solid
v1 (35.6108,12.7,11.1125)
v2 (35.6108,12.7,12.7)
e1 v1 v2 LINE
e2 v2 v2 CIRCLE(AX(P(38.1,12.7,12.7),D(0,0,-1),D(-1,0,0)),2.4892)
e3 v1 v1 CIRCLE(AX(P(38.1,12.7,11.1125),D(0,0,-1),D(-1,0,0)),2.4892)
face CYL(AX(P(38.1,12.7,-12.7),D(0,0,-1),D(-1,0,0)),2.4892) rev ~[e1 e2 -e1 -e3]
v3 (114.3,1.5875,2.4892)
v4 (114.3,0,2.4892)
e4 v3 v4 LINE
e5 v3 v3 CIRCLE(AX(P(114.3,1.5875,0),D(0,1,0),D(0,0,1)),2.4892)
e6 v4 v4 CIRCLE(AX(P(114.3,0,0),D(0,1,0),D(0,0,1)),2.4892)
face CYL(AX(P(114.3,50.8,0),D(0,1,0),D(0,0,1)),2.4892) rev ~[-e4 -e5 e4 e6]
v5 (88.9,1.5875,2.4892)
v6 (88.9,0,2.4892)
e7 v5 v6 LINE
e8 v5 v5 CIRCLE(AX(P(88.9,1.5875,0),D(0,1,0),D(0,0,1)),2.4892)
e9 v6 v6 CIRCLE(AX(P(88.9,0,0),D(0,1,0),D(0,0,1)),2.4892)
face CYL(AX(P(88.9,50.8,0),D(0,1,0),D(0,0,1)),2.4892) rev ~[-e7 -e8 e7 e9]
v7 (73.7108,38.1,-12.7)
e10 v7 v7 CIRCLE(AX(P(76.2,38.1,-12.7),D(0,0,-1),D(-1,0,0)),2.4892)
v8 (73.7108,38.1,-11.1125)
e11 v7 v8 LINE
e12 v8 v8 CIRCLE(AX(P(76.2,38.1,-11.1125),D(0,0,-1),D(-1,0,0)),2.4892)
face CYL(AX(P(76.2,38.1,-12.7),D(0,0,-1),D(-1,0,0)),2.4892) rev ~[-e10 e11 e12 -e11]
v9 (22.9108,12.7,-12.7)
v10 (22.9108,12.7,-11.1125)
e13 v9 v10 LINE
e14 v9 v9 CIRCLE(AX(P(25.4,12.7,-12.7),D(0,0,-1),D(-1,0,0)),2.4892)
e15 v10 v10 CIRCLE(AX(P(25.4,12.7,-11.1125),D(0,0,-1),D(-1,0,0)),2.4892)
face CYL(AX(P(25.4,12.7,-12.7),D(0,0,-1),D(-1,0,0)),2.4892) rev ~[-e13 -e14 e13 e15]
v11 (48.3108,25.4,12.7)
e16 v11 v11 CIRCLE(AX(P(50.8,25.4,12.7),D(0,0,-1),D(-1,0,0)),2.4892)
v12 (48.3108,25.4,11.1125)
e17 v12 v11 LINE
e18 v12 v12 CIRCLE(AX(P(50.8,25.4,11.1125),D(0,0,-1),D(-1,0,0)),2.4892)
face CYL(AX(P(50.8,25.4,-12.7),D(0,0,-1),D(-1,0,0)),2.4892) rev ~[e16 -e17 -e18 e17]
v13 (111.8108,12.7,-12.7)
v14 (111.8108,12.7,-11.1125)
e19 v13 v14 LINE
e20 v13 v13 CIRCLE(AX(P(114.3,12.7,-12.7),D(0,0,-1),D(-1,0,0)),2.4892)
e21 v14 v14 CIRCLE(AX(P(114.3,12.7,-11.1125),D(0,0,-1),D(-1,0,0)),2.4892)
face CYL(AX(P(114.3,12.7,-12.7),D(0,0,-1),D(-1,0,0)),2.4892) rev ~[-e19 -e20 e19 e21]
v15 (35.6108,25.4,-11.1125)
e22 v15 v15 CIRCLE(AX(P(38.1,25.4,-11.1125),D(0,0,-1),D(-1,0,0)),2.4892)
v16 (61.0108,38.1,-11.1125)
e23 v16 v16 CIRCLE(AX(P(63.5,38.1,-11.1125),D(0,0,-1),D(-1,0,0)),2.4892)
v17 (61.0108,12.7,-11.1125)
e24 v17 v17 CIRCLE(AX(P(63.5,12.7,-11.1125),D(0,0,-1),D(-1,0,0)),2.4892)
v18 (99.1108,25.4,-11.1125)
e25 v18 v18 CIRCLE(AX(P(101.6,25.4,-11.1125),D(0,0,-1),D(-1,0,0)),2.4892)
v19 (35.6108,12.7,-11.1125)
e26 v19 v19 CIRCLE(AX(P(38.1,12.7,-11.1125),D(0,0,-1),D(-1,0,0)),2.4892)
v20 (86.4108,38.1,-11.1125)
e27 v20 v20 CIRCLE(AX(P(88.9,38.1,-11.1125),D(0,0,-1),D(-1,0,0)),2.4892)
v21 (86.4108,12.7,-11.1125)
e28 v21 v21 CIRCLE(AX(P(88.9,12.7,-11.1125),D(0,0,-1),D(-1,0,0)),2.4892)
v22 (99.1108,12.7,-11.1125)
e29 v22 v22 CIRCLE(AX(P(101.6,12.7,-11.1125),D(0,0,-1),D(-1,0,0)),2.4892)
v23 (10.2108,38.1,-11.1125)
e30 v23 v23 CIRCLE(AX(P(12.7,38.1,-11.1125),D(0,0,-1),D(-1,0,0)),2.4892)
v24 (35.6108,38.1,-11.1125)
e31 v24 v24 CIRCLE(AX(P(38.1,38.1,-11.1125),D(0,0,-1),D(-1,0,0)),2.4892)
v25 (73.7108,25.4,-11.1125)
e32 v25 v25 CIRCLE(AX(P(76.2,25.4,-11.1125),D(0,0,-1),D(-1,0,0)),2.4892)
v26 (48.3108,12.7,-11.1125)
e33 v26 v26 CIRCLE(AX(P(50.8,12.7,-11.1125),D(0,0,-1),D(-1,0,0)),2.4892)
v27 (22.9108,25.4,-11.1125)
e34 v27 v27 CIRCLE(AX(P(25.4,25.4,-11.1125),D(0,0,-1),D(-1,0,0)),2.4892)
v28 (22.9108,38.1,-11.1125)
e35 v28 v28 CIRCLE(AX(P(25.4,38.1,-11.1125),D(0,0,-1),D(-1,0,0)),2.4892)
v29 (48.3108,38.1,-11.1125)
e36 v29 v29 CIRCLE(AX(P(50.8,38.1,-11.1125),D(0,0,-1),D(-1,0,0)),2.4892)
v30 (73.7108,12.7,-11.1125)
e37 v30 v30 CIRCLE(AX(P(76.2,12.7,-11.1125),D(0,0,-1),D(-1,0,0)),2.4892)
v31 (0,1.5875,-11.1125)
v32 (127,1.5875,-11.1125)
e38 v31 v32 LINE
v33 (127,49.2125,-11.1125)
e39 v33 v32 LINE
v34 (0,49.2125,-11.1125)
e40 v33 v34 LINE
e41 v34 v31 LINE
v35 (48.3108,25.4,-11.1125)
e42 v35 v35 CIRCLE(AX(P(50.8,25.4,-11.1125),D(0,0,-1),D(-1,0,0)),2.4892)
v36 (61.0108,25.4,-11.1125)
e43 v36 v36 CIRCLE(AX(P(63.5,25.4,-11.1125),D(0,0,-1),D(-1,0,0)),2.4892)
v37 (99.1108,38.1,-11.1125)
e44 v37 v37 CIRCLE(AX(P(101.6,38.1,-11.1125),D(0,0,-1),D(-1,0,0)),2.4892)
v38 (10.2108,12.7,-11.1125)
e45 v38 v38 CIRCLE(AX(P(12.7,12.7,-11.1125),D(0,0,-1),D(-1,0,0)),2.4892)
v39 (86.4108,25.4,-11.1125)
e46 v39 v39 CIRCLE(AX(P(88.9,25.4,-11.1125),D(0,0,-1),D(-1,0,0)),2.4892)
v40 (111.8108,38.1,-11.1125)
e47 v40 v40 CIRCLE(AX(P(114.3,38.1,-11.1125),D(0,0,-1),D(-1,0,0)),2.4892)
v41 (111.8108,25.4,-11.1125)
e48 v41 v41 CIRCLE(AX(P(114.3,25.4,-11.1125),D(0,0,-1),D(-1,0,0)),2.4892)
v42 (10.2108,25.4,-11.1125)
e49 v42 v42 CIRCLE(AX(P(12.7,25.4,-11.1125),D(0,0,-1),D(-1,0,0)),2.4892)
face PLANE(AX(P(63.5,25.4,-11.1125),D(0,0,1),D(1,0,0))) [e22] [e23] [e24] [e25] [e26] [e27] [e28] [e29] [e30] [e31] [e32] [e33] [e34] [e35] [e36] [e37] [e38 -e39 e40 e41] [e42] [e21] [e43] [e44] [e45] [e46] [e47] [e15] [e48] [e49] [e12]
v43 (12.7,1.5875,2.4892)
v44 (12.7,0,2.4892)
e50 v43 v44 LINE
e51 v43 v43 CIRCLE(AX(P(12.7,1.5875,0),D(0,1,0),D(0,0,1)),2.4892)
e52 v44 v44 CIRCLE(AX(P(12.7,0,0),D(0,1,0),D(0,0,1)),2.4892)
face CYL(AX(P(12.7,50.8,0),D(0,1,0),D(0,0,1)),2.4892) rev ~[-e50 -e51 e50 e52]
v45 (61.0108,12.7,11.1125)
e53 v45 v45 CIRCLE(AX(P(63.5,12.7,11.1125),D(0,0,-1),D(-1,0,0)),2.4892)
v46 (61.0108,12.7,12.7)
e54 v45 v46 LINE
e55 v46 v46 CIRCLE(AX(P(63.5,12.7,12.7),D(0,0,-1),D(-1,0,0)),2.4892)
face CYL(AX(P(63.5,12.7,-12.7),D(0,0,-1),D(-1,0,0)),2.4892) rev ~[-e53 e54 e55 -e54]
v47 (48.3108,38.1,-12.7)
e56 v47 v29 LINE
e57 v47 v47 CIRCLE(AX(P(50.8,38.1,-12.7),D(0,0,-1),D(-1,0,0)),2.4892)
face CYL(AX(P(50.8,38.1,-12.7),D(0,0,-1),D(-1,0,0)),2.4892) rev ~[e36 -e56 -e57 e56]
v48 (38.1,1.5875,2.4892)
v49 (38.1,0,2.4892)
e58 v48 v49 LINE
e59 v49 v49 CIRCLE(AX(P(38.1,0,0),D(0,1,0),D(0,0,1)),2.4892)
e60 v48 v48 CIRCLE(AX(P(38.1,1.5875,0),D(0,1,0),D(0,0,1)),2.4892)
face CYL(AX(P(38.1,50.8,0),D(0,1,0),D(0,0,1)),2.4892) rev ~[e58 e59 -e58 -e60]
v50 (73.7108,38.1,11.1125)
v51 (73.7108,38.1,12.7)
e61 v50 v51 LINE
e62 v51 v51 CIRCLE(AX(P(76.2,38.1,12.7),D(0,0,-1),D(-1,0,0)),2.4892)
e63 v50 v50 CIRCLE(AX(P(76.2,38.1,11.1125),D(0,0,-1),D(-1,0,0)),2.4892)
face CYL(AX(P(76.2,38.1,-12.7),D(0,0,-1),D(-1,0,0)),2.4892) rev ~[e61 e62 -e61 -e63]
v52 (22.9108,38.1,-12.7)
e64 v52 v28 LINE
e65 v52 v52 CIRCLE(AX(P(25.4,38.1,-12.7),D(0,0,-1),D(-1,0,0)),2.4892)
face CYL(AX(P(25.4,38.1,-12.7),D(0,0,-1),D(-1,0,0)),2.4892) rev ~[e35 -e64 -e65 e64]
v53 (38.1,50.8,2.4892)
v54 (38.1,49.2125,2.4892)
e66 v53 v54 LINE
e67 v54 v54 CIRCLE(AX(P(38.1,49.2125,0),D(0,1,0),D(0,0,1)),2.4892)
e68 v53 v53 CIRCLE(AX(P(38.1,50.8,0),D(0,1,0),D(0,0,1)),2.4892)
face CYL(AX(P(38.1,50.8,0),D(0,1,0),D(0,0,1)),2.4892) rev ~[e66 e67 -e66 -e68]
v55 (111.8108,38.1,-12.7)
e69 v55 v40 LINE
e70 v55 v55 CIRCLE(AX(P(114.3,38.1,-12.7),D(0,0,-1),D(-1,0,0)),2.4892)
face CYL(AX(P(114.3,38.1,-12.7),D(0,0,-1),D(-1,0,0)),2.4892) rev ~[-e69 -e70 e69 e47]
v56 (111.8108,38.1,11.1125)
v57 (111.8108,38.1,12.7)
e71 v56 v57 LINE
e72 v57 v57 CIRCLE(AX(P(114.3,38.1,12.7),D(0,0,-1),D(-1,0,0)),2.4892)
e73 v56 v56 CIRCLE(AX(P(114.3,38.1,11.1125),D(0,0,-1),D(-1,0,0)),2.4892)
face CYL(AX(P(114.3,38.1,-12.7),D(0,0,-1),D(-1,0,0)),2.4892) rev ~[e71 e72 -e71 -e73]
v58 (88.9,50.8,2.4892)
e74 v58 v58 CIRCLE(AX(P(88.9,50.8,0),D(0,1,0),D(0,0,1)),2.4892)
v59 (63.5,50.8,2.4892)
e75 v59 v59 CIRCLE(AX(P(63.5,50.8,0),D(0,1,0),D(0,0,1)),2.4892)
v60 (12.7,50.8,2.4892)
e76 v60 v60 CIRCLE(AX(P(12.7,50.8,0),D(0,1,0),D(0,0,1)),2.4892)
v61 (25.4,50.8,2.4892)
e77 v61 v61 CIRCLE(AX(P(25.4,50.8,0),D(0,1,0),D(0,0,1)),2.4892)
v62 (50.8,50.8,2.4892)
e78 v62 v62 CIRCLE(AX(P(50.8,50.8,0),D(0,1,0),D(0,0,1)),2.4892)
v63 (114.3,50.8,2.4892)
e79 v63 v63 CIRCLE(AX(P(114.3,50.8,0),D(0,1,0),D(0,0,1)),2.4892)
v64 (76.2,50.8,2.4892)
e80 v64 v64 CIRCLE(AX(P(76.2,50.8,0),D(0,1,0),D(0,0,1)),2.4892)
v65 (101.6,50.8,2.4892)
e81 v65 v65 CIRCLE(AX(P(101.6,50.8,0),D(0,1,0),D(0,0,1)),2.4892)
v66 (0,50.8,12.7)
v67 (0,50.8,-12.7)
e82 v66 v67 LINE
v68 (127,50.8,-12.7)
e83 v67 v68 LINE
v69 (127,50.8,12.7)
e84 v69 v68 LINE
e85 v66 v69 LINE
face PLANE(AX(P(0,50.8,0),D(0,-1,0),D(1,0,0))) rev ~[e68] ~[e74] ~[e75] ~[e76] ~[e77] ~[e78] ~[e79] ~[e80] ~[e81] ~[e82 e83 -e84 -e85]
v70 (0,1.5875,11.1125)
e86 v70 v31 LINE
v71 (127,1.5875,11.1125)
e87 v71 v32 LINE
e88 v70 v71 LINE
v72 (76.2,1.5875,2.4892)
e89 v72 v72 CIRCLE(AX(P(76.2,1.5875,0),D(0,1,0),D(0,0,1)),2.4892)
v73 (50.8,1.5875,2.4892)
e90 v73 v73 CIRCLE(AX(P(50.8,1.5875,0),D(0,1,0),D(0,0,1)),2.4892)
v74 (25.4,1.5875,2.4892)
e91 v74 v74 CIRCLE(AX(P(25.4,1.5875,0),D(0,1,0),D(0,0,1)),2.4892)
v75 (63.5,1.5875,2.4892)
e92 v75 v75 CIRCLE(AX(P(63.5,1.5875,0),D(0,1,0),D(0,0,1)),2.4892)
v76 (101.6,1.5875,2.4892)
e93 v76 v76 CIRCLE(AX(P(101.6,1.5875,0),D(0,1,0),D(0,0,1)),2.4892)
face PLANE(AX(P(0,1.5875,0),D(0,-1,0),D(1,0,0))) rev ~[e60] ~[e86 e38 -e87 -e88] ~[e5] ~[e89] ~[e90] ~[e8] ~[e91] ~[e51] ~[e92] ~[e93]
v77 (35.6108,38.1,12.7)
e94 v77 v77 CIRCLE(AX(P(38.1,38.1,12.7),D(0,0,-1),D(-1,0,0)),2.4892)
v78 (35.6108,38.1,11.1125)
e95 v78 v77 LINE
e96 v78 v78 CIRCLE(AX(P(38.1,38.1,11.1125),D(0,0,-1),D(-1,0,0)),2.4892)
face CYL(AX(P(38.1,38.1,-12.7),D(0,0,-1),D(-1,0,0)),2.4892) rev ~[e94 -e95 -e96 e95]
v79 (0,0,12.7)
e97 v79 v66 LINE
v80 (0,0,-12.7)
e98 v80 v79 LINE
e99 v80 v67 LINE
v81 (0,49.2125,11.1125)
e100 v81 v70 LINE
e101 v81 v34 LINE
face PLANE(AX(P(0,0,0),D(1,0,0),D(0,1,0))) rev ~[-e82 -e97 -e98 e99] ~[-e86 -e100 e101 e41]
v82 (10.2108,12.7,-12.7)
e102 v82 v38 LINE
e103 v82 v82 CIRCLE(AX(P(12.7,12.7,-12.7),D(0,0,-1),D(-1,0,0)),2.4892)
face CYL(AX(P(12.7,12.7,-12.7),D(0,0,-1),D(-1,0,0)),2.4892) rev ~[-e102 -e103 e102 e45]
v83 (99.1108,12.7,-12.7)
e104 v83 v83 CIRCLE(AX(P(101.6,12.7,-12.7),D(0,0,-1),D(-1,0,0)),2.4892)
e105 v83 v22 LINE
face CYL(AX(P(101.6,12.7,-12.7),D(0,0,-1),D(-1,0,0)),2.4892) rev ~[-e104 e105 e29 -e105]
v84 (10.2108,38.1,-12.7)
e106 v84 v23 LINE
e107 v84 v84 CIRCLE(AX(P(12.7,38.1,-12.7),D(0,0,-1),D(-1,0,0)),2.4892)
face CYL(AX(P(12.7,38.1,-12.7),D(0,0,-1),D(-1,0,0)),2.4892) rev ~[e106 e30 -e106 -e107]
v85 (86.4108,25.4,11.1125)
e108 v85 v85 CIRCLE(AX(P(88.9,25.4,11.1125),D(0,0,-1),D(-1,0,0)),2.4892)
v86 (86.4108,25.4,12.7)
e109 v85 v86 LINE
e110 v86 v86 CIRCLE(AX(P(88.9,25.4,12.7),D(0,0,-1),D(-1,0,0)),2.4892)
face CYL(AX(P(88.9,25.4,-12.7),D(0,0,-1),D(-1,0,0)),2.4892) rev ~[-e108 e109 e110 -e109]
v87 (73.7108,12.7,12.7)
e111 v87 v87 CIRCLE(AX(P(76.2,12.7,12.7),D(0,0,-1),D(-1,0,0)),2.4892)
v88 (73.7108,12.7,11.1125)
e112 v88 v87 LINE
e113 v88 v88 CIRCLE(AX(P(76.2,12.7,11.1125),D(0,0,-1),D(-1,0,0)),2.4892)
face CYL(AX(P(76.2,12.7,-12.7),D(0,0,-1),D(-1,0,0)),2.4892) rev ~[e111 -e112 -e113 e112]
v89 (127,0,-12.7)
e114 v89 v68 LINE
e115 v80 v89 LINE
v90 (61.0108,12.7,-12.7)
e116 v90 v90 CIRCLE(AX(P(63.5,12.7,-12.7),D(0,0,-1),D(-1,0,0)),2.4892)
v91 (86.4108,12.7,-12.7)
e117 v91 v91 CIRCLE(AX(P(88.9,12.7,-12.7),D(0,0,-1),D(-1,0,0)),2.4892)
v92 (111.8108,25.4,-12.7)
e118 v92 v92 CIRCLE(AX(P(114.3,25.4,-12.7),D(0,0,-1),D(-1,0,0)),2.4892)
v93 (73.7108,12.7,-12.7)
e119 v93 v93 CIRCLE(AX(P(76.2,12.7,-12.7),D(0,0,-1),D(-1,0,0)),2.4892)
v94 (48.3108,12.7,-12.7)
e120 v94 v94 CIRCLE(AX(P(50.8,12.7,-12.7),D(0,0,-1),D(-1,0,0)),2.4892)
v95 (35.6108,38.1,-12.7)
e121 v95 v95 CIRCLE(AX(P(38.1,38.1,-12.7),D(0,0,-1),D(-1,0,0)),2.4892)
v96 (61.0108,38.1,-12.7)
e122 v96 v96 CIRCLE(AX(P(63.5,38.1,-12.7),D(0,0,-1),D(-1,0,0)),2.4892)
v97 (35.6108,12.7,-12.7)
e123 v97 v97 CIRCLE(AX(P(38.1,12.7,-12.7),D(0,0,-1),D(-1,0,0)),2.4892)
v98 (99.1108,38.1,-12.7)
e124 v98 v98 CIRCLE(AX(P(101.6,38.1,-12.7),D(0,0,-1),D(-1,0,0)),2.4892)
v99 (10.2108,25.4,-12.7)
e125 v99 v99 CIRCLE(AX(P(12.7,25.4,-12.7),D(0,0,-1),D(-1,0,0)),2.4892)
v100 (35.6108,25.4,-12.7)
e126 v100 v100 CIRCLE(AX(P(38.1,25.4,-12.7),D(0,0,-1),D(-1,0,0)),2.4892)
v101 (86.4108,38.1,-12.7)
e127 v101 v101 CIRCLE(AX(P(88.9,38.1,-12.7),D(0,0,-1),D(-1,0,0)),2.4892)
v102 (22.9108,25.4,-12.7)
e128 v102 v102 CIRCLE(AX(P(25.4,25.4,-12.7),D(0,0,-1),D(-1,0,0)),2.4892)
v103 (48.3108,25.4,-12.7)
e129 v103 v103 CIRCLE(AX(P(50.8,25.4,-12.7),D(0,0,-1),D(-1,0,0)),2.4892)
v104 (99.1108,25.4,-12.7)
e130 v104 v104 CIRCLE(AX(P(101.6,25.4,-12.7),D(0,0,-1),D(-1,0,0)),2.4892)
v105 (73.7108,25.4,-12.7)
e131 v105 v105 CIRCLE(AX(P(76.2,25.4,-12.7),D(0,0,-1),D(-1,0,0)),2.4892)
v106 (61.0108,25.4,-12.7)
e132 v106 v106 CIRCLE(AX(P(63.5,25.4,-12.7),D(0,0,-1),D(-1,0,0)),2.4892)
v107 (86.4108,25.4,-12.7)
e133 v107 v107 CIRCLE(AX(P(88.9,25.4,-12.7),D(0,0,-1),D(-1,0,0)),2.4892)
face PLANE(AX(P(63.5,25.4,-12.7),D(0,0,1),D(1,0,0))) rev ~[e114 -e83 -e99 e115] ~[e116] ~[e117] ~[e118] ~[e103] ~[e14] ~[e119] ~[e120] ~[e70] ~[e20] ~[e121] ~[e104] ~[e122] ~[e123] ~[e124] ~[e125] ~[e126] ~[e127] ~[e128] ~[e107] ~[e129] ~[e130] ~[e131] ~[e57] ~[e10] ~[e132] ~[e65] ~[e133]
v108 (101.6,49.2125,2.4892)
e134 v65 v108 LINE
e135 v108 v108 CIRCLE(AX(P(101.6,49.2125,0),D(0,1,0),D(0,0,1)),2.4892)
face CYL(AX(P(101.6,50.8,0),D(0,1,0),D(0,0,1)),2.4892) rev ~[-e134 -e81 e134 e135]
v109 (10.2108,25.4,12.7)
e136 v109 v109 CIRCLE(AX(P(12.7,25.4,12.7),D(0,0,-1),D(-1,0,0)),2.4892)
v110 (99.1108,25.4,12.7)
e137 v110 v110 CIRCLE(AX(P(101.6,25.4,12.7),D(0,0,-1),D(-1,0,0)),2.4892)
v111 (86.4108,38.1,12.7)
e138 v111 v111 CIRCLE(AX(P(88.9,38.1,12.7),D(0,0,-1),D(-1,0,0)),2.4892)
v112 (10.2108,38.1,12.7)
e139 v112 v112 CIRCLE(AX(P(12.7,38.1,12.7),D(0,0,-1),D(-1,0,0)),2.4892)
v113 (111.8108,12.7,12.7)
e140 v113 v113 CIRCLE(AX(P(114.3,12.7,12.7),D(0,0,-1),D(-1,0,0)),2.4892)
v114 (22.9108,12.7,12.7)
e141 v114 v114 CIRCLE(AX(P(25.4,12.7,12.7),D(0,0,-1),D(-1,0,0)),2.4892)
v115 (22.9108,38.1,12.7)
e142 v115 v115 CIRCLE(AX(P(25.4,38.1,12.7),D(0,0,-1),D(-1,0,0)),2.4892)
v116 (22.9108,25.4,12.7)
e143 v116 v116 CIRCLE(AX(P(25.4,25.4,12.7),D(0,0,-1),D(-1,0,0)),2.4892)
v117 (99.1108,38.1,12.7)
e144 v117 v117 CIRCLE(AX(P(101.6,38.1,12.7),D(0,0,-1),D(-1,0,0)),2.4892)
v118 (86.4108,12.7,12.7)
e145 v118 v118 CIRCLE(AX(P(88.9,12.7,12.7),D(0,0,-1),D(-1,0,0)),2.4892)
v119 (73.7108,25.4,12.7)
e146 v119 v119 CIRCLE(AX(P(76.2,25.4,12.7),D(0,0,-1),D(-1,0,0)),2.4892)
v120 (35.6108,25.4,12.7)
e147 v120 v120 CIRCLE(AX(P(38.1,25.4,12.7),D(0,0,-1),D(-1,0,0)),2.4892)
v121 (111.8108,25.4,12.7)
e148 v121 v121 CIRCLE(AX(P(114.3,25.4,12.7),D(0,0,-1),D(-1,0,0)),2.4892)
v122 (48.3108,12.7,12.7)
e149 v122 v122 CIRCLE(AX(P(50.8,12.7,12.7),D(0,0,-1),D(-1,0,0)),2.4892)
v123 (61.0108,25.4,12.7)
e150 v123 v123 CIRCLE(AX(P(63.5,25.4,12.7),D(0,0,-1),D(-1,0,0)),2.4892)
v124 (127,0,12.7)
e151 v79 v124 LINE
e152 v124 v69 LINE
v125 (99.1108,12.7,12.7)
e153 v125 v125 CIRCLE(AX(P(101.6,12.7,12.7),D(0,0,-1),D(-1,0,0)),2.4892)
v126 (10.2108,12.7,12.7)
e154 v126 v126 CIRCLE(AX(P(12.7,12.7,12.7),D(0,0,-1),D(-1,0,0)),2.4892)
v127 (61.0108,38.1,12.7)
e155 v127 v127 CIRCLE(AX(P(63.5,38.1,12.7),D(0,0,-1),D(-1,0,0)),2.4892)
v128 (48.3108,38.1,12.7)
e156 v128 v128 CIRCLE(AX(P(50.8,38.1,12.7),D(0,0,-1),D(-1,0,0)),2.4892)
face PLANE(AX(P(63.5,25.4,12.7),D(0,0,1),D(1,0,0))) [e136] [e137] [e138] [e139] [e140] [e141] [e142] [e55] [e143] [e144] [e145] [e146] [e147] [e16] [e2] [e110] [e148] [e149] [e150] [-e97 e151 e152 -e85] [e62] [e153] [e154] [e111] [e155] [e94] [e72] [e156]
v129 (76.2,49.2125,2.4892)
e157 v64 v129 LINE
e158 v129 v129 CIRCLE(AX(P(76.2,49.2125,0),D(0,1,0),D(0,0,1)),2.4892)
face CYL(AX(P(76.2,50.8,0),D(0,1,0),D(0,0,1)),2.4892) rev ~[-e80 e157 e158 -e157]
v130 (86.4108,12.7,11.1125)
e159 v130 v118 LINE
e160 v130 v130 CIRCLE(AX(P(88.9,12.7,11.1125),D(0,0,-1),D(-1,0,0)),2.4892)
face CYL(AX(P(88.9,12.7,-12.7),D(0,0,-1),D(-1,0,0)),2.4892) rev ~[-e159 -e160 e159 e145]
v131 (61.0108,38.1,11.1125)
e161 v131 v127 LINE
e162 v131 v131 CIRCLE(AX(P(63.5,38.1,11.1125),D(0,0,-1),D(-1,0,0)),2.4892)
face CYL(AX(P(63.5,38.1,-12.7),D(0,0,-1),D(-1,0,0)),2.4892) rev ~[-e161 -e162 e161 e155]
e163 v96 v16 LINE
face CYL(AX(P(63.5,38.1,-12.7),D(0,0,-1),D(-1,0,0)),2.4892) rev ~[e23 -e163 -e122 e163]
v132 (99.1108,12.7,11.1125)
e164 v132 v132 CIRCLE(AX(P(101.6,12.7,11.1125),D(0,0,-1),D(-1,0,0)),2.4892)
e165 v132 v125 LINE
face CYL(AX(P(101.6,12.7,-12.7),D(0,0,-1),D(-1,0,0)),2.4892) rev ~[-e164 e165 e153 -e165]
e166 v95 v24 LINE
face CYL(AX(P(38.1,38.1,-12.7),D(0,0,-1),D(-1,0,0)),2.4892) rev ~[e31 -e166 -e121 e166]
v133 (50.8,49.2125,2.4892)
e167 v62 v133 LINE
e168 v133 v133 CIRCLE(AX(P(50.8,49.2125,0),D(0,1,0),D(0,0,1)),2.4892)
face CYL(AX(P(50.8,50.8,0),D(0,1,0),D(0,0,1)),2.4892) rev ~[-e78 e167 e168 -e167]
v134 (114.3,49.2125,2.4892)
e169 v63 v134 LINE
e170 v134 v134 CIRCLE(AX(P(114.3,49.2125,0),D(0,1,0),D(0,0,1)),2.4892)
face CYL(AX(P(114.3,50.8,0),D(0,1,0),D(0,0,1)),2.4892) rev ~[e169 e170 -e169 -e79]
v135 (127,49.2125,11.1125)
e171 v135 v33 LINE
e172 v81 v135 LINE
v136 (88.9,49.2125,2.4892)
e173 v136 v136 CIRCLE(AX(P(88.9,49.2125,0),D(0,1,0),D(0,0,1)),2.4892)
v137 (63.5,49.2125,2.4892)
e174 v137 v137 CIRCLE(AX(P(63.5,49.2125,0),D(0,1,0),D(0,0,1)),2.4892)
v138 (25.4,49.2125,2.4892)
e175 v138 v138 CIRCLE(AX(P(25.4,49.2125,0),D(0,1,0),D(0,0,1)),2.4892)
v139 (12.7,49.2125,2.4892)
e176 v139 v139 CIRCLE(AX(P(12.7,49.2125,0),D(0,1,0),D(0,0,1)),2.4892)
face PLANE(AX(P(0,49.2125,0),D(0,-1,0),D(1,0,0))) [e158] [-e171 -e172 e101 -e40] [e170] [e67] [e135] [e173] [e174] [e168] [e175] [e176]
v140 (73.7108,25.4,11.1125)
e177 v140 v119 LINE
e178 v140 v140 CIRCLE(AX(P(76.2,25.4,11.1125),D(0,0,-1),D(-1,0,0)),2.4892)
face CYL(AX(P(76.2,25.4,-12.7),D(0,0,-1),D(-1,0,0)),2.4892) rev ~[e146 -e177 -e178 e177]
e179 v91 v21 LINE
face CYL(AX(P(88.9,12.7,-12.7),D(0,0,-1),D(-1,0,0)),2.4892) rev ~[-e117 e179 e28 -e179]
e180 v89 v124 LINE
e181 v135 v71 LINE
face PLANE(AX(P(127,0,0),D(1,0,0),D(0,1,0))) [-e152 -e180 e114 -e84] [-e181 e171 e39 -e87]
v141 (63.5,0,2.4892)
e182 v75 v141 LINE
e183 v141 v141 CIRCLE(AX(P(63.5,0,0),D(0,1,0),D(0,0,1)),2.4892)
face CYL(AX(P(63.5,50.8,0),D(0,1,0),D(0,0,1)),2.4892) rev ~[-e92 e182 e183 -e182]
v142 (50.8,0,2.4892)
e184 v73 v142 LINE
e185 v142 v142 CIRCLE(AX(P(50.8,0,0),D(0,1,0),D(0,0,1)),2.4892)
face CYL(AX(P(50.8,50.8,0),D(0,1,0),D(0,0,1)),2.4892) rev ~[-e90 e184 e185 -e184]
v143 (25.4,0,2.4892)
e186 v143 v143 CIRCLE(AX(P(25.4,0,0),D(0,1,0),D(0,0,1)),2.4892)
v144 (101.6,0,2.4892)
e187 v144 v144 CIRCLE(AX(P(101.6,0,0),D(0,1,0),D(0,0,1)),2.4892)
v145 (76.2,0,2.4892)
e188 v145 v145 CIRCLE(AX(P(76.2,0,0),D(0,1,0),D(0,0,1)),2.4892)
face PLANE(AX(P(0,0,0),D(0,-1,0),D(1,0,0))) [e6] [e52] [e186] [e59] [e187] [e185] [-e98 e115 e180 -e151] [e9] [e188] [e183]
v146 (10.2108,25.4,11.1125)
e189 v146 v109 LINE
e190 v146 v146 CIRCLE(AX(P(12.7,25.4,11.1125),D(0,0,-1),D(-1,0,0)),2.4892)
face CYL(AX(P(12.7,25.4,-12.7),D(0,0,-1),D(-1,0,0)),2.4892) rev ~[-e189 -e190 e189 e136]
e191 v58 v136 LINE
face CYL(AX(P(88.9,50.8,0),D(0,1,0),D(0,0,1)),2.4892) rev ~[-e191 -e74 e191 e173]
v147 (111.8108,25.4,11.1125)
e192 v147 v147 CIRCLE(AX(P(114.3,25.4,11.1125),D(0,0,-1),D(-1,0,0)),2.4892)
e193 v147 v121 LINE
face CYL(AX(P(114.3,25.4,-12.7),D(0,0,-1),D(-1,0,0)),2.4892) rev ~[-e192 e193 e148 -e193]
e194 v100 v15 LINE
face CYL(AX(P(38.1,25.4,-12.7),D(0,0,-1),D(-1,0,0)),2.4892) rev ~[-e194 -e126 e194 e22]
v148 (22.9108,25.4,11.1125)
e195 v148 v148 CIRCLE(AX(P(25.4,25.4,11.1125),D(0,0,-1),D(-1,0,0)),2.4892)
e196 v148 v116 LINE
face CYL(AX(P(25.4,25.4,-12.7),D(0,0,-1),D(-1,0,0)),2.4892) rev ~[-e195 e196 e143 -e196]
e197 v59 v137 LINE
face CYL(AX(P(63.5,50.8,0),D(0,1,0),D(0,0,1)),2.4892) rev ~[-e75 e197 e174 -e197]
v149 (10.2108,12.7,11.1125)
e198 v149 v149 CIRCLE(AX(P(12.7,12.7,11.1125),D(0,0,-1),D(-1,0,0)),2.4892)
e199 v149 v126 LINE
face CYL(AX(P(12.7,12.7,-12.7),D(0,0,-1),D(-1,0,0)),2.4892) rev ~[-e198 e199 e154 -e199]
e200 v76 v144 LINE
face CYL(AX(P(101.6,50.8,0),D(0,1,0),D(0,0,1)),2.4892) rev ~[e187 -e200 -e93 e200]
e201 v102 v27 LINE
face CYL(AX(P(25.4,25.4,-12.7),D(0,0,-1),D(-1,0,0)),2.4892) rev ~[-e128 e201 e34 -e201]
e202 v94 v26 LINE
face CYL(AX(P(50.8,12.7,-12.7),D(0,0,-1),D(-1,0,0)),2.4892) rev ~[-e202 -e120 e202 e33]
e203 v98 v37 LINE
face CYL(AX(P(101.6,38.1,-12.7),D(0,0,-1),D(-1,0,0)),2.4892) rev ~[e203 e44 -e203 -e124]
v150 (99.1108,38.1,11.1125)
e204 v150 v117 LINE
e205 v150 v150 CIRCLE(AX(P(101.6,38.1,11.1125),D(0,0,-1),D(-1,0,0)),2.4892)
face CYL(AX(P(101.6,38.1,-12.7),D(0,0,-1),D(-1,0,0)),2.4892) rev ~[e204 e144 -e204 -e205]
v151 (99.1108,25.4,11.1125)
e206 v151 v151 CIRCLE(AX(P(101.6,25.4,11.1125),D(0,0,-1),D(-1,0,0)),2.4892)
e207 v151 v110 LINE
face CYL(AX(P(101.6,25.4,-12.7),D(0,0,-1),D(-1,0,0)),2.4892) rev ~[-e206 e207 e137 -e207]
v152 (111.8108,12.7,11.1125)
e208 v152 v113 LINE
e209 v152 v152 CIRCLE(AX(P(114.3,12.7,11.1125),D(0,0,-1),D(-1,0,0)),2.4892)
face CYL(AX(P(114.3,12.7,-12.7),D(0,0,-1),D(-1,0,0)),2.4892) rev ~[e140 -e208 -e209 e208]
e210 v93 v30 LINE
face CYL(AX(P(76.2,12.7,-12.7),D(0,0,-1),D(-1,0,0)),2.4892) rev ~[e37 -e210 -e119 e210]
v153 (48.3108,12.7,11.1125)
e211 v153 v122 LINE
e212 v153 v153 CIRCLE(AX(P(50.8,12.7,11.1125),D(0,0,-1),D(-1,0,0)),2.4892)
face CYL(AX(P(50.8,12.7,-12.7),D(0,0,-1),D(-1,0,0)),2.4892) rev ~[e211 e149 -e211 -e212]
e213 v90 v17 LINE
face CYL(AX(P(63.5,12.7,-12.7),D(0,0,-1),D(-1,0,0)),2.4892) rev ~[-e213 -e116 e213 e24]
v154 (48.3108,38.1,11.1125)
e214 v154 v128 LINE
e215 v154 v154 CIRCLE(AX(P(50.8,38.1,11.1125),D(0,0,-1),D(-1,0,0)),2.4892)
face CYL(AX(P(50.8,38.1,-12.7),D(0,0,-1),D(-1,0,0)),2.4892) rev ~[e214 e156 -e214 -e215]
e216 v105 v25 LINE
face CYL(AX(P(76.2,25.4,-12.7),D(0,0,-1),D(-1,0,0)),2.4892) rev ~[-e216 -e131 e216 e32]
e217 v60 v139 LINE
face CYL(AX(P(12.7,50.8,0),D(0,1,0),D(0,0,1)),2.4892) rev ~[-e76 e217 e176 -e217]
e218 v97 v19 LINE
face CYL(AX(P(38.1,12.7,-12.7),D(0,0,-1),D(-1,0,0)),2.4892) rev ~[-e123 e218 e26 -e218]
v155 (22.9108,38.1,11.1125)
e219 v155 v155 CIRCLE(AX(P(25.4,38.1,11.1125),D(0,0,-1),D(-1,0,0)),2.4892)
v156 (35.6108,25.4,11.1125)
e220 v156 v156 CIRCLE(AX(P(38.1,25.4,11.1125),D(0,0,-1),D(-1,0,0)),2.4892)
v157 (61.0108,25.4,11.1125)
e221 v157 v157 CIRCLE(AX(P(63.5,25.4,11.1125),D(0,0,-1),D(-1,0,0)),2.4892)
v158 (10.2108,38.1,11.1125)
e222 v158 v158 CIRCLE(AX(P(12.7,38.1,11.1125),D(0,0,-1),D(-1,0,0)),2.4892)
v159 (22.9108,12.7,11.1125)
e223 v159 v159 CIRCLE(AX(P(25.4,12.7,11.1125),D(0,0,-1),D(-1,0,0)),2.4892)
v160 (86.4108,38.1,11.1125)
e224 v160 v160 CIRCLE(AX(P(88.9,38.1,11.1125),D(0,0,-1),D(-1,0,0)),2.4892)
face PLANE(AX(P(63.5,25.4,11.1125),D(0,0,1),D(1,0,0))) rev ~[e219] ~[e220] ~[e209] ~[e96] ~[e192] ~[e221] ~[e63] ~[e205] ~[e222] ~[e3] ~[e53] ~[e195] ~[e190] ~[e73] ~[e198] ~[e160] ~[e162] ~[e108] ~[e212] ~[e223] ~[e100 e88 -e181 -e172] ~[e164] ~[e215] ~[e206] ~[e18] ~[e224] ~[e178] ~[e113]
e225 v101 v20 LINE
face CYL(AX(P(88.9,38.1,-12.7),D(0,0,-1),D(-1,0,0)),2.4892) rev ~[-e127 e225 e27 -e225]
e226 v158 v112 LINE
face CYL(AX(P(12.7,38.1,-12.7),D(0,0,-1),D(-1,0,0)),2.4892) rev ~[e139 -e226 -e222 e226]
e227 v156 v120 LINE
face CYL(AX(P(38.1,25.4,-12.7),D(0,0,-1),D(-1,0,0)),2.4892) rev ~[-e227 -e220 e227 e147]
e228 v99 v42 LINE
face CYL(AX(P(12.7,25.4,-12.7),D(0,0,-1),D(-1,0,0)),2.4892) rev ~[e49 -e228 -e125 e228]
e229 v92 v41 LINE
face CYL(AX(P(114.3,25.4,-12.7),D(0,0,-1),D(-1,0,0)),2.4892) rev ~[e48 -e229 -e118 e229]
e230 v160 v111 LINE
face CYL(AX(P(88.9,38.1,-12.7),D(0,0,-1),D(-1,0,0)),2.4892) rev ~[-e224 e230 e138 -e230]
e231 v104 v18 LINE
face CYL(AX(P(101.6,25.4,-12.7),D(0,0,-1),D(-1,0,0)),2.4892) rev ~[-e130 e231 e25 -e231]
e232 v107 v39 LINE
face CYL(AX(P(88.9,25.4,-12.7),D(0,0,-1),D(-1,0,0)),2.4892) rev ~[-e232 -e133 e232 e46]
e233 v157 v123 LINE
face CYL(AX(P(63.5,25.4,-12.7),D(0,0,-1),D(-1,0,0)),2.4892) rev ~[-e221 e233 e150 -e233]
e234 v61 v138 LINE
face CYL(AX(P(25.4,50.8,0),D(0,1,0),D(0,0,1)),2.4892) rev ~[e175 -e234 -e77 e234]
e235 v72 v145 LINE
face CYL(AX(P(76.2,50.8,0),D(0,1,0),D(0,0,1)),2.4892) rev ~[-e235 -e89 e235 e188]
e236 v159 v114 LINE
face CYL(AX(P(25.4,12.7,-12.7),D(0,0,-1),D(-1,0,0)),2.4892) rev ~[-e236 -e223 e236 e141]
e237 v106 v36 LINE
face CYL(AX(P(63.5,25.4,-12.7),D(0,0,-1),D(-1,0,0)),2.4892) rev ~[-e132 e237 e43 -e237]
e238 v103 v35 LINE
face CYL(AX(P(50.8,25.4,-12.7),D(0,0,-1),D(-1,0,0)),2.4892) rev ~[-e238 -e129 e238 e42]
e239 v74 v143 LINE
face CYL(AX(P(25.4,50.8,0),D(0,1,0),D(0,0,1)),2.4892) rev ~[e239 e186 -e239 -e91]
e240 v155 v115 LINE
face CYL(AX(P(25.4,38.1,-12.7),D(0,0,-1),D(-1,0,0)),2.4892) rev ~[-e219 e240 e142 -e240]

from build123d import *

# Parameters (mm, degrees)
SKETCH1_W           = 127
SKETCH1_H           = 50.8
BOSS_EXTRUDE1_DEPTH = 12.7
SHELL1_T            = -1.5875
SKETCH2_R           = 2.4892
CUT_EXTRUDE1_DEPTH  = 140.121529606
SKETCH3_R           = 2.4892
CUT_EXTRUDE2_DEPTH  = 138.371503595
LPATTERN1_COUNT     = 9
LPATTERN1_PITCH     = 12.7


with BuildPart() as part:
    # Sketch1 → Boss-Extrude1 (new, symmetric)
    with BuildSketch(Plane.XY):
        with Locations((63.5, 25.4)):
            Rectangle(SKETCH1_W, SKETCH1_H)
    extrude(amount=BOSS_EXTRUDE1_DEPTH, both=True)

    # Shell1
    shell1_openings = [part.faces().sort_by_distance(p)[0] for p in [
        (127, 25.4, 0),
        (0, 25.4, 0),
    ]]
    offset(amount=SHELL1_T, openings=shell1_openings, kind=Kind.INTERSECTION)

    # Sketch2 → Cut-Extrude1 (cut, through all)
    with BuildSketch(Plane(origin=(0, 0, -12.7), x_dir=(-1, 0, 0), z_dir=(0, 0, -1))):
        with Locations((-114.3, 38.1)):
            Circle(SKETCH2_R)
        with Locations((-114.3, 25.4)):
            Circle(SKETCH2_R)
        with Locations((-114.3, 12.7)):
            Circle(SKETCH2_R)
    cut_extrude1 = extrude(amount=-CUT_EXTRUDE1_DEPTH, mode=Mode.SUBTRACT)

    # Sketch3 → Cut-Extrude2 (cut, through all)
    with BuildSketch(Plane(origin=(0, 50.8, 0), x_dir=(1, 0, 0), z_dir=(0, 1, 0))):
        with Locations(Location((114.3, 0, 0), (0, 0, 270))):
            Circle(SKETCH3_R)
    cut_extrude2 = extrude(amount=-CUT_EXTRUDE2_DEPTH, mode=Mode.SUBTRACT)

    # LPattern1: Cut-Extrude1, Cut-Extrude2 ×9
    with Locations(*[(-i * LPATTERN1_PITCH, 0, 0) for i in range(1, LPATTERN1_COUNT)]):
        add(cut_extrude1, mode=Mode.SUBTRACT)
        add(cut_extrude2, mode=Mode.SUBTRACT)


solid = part.part
